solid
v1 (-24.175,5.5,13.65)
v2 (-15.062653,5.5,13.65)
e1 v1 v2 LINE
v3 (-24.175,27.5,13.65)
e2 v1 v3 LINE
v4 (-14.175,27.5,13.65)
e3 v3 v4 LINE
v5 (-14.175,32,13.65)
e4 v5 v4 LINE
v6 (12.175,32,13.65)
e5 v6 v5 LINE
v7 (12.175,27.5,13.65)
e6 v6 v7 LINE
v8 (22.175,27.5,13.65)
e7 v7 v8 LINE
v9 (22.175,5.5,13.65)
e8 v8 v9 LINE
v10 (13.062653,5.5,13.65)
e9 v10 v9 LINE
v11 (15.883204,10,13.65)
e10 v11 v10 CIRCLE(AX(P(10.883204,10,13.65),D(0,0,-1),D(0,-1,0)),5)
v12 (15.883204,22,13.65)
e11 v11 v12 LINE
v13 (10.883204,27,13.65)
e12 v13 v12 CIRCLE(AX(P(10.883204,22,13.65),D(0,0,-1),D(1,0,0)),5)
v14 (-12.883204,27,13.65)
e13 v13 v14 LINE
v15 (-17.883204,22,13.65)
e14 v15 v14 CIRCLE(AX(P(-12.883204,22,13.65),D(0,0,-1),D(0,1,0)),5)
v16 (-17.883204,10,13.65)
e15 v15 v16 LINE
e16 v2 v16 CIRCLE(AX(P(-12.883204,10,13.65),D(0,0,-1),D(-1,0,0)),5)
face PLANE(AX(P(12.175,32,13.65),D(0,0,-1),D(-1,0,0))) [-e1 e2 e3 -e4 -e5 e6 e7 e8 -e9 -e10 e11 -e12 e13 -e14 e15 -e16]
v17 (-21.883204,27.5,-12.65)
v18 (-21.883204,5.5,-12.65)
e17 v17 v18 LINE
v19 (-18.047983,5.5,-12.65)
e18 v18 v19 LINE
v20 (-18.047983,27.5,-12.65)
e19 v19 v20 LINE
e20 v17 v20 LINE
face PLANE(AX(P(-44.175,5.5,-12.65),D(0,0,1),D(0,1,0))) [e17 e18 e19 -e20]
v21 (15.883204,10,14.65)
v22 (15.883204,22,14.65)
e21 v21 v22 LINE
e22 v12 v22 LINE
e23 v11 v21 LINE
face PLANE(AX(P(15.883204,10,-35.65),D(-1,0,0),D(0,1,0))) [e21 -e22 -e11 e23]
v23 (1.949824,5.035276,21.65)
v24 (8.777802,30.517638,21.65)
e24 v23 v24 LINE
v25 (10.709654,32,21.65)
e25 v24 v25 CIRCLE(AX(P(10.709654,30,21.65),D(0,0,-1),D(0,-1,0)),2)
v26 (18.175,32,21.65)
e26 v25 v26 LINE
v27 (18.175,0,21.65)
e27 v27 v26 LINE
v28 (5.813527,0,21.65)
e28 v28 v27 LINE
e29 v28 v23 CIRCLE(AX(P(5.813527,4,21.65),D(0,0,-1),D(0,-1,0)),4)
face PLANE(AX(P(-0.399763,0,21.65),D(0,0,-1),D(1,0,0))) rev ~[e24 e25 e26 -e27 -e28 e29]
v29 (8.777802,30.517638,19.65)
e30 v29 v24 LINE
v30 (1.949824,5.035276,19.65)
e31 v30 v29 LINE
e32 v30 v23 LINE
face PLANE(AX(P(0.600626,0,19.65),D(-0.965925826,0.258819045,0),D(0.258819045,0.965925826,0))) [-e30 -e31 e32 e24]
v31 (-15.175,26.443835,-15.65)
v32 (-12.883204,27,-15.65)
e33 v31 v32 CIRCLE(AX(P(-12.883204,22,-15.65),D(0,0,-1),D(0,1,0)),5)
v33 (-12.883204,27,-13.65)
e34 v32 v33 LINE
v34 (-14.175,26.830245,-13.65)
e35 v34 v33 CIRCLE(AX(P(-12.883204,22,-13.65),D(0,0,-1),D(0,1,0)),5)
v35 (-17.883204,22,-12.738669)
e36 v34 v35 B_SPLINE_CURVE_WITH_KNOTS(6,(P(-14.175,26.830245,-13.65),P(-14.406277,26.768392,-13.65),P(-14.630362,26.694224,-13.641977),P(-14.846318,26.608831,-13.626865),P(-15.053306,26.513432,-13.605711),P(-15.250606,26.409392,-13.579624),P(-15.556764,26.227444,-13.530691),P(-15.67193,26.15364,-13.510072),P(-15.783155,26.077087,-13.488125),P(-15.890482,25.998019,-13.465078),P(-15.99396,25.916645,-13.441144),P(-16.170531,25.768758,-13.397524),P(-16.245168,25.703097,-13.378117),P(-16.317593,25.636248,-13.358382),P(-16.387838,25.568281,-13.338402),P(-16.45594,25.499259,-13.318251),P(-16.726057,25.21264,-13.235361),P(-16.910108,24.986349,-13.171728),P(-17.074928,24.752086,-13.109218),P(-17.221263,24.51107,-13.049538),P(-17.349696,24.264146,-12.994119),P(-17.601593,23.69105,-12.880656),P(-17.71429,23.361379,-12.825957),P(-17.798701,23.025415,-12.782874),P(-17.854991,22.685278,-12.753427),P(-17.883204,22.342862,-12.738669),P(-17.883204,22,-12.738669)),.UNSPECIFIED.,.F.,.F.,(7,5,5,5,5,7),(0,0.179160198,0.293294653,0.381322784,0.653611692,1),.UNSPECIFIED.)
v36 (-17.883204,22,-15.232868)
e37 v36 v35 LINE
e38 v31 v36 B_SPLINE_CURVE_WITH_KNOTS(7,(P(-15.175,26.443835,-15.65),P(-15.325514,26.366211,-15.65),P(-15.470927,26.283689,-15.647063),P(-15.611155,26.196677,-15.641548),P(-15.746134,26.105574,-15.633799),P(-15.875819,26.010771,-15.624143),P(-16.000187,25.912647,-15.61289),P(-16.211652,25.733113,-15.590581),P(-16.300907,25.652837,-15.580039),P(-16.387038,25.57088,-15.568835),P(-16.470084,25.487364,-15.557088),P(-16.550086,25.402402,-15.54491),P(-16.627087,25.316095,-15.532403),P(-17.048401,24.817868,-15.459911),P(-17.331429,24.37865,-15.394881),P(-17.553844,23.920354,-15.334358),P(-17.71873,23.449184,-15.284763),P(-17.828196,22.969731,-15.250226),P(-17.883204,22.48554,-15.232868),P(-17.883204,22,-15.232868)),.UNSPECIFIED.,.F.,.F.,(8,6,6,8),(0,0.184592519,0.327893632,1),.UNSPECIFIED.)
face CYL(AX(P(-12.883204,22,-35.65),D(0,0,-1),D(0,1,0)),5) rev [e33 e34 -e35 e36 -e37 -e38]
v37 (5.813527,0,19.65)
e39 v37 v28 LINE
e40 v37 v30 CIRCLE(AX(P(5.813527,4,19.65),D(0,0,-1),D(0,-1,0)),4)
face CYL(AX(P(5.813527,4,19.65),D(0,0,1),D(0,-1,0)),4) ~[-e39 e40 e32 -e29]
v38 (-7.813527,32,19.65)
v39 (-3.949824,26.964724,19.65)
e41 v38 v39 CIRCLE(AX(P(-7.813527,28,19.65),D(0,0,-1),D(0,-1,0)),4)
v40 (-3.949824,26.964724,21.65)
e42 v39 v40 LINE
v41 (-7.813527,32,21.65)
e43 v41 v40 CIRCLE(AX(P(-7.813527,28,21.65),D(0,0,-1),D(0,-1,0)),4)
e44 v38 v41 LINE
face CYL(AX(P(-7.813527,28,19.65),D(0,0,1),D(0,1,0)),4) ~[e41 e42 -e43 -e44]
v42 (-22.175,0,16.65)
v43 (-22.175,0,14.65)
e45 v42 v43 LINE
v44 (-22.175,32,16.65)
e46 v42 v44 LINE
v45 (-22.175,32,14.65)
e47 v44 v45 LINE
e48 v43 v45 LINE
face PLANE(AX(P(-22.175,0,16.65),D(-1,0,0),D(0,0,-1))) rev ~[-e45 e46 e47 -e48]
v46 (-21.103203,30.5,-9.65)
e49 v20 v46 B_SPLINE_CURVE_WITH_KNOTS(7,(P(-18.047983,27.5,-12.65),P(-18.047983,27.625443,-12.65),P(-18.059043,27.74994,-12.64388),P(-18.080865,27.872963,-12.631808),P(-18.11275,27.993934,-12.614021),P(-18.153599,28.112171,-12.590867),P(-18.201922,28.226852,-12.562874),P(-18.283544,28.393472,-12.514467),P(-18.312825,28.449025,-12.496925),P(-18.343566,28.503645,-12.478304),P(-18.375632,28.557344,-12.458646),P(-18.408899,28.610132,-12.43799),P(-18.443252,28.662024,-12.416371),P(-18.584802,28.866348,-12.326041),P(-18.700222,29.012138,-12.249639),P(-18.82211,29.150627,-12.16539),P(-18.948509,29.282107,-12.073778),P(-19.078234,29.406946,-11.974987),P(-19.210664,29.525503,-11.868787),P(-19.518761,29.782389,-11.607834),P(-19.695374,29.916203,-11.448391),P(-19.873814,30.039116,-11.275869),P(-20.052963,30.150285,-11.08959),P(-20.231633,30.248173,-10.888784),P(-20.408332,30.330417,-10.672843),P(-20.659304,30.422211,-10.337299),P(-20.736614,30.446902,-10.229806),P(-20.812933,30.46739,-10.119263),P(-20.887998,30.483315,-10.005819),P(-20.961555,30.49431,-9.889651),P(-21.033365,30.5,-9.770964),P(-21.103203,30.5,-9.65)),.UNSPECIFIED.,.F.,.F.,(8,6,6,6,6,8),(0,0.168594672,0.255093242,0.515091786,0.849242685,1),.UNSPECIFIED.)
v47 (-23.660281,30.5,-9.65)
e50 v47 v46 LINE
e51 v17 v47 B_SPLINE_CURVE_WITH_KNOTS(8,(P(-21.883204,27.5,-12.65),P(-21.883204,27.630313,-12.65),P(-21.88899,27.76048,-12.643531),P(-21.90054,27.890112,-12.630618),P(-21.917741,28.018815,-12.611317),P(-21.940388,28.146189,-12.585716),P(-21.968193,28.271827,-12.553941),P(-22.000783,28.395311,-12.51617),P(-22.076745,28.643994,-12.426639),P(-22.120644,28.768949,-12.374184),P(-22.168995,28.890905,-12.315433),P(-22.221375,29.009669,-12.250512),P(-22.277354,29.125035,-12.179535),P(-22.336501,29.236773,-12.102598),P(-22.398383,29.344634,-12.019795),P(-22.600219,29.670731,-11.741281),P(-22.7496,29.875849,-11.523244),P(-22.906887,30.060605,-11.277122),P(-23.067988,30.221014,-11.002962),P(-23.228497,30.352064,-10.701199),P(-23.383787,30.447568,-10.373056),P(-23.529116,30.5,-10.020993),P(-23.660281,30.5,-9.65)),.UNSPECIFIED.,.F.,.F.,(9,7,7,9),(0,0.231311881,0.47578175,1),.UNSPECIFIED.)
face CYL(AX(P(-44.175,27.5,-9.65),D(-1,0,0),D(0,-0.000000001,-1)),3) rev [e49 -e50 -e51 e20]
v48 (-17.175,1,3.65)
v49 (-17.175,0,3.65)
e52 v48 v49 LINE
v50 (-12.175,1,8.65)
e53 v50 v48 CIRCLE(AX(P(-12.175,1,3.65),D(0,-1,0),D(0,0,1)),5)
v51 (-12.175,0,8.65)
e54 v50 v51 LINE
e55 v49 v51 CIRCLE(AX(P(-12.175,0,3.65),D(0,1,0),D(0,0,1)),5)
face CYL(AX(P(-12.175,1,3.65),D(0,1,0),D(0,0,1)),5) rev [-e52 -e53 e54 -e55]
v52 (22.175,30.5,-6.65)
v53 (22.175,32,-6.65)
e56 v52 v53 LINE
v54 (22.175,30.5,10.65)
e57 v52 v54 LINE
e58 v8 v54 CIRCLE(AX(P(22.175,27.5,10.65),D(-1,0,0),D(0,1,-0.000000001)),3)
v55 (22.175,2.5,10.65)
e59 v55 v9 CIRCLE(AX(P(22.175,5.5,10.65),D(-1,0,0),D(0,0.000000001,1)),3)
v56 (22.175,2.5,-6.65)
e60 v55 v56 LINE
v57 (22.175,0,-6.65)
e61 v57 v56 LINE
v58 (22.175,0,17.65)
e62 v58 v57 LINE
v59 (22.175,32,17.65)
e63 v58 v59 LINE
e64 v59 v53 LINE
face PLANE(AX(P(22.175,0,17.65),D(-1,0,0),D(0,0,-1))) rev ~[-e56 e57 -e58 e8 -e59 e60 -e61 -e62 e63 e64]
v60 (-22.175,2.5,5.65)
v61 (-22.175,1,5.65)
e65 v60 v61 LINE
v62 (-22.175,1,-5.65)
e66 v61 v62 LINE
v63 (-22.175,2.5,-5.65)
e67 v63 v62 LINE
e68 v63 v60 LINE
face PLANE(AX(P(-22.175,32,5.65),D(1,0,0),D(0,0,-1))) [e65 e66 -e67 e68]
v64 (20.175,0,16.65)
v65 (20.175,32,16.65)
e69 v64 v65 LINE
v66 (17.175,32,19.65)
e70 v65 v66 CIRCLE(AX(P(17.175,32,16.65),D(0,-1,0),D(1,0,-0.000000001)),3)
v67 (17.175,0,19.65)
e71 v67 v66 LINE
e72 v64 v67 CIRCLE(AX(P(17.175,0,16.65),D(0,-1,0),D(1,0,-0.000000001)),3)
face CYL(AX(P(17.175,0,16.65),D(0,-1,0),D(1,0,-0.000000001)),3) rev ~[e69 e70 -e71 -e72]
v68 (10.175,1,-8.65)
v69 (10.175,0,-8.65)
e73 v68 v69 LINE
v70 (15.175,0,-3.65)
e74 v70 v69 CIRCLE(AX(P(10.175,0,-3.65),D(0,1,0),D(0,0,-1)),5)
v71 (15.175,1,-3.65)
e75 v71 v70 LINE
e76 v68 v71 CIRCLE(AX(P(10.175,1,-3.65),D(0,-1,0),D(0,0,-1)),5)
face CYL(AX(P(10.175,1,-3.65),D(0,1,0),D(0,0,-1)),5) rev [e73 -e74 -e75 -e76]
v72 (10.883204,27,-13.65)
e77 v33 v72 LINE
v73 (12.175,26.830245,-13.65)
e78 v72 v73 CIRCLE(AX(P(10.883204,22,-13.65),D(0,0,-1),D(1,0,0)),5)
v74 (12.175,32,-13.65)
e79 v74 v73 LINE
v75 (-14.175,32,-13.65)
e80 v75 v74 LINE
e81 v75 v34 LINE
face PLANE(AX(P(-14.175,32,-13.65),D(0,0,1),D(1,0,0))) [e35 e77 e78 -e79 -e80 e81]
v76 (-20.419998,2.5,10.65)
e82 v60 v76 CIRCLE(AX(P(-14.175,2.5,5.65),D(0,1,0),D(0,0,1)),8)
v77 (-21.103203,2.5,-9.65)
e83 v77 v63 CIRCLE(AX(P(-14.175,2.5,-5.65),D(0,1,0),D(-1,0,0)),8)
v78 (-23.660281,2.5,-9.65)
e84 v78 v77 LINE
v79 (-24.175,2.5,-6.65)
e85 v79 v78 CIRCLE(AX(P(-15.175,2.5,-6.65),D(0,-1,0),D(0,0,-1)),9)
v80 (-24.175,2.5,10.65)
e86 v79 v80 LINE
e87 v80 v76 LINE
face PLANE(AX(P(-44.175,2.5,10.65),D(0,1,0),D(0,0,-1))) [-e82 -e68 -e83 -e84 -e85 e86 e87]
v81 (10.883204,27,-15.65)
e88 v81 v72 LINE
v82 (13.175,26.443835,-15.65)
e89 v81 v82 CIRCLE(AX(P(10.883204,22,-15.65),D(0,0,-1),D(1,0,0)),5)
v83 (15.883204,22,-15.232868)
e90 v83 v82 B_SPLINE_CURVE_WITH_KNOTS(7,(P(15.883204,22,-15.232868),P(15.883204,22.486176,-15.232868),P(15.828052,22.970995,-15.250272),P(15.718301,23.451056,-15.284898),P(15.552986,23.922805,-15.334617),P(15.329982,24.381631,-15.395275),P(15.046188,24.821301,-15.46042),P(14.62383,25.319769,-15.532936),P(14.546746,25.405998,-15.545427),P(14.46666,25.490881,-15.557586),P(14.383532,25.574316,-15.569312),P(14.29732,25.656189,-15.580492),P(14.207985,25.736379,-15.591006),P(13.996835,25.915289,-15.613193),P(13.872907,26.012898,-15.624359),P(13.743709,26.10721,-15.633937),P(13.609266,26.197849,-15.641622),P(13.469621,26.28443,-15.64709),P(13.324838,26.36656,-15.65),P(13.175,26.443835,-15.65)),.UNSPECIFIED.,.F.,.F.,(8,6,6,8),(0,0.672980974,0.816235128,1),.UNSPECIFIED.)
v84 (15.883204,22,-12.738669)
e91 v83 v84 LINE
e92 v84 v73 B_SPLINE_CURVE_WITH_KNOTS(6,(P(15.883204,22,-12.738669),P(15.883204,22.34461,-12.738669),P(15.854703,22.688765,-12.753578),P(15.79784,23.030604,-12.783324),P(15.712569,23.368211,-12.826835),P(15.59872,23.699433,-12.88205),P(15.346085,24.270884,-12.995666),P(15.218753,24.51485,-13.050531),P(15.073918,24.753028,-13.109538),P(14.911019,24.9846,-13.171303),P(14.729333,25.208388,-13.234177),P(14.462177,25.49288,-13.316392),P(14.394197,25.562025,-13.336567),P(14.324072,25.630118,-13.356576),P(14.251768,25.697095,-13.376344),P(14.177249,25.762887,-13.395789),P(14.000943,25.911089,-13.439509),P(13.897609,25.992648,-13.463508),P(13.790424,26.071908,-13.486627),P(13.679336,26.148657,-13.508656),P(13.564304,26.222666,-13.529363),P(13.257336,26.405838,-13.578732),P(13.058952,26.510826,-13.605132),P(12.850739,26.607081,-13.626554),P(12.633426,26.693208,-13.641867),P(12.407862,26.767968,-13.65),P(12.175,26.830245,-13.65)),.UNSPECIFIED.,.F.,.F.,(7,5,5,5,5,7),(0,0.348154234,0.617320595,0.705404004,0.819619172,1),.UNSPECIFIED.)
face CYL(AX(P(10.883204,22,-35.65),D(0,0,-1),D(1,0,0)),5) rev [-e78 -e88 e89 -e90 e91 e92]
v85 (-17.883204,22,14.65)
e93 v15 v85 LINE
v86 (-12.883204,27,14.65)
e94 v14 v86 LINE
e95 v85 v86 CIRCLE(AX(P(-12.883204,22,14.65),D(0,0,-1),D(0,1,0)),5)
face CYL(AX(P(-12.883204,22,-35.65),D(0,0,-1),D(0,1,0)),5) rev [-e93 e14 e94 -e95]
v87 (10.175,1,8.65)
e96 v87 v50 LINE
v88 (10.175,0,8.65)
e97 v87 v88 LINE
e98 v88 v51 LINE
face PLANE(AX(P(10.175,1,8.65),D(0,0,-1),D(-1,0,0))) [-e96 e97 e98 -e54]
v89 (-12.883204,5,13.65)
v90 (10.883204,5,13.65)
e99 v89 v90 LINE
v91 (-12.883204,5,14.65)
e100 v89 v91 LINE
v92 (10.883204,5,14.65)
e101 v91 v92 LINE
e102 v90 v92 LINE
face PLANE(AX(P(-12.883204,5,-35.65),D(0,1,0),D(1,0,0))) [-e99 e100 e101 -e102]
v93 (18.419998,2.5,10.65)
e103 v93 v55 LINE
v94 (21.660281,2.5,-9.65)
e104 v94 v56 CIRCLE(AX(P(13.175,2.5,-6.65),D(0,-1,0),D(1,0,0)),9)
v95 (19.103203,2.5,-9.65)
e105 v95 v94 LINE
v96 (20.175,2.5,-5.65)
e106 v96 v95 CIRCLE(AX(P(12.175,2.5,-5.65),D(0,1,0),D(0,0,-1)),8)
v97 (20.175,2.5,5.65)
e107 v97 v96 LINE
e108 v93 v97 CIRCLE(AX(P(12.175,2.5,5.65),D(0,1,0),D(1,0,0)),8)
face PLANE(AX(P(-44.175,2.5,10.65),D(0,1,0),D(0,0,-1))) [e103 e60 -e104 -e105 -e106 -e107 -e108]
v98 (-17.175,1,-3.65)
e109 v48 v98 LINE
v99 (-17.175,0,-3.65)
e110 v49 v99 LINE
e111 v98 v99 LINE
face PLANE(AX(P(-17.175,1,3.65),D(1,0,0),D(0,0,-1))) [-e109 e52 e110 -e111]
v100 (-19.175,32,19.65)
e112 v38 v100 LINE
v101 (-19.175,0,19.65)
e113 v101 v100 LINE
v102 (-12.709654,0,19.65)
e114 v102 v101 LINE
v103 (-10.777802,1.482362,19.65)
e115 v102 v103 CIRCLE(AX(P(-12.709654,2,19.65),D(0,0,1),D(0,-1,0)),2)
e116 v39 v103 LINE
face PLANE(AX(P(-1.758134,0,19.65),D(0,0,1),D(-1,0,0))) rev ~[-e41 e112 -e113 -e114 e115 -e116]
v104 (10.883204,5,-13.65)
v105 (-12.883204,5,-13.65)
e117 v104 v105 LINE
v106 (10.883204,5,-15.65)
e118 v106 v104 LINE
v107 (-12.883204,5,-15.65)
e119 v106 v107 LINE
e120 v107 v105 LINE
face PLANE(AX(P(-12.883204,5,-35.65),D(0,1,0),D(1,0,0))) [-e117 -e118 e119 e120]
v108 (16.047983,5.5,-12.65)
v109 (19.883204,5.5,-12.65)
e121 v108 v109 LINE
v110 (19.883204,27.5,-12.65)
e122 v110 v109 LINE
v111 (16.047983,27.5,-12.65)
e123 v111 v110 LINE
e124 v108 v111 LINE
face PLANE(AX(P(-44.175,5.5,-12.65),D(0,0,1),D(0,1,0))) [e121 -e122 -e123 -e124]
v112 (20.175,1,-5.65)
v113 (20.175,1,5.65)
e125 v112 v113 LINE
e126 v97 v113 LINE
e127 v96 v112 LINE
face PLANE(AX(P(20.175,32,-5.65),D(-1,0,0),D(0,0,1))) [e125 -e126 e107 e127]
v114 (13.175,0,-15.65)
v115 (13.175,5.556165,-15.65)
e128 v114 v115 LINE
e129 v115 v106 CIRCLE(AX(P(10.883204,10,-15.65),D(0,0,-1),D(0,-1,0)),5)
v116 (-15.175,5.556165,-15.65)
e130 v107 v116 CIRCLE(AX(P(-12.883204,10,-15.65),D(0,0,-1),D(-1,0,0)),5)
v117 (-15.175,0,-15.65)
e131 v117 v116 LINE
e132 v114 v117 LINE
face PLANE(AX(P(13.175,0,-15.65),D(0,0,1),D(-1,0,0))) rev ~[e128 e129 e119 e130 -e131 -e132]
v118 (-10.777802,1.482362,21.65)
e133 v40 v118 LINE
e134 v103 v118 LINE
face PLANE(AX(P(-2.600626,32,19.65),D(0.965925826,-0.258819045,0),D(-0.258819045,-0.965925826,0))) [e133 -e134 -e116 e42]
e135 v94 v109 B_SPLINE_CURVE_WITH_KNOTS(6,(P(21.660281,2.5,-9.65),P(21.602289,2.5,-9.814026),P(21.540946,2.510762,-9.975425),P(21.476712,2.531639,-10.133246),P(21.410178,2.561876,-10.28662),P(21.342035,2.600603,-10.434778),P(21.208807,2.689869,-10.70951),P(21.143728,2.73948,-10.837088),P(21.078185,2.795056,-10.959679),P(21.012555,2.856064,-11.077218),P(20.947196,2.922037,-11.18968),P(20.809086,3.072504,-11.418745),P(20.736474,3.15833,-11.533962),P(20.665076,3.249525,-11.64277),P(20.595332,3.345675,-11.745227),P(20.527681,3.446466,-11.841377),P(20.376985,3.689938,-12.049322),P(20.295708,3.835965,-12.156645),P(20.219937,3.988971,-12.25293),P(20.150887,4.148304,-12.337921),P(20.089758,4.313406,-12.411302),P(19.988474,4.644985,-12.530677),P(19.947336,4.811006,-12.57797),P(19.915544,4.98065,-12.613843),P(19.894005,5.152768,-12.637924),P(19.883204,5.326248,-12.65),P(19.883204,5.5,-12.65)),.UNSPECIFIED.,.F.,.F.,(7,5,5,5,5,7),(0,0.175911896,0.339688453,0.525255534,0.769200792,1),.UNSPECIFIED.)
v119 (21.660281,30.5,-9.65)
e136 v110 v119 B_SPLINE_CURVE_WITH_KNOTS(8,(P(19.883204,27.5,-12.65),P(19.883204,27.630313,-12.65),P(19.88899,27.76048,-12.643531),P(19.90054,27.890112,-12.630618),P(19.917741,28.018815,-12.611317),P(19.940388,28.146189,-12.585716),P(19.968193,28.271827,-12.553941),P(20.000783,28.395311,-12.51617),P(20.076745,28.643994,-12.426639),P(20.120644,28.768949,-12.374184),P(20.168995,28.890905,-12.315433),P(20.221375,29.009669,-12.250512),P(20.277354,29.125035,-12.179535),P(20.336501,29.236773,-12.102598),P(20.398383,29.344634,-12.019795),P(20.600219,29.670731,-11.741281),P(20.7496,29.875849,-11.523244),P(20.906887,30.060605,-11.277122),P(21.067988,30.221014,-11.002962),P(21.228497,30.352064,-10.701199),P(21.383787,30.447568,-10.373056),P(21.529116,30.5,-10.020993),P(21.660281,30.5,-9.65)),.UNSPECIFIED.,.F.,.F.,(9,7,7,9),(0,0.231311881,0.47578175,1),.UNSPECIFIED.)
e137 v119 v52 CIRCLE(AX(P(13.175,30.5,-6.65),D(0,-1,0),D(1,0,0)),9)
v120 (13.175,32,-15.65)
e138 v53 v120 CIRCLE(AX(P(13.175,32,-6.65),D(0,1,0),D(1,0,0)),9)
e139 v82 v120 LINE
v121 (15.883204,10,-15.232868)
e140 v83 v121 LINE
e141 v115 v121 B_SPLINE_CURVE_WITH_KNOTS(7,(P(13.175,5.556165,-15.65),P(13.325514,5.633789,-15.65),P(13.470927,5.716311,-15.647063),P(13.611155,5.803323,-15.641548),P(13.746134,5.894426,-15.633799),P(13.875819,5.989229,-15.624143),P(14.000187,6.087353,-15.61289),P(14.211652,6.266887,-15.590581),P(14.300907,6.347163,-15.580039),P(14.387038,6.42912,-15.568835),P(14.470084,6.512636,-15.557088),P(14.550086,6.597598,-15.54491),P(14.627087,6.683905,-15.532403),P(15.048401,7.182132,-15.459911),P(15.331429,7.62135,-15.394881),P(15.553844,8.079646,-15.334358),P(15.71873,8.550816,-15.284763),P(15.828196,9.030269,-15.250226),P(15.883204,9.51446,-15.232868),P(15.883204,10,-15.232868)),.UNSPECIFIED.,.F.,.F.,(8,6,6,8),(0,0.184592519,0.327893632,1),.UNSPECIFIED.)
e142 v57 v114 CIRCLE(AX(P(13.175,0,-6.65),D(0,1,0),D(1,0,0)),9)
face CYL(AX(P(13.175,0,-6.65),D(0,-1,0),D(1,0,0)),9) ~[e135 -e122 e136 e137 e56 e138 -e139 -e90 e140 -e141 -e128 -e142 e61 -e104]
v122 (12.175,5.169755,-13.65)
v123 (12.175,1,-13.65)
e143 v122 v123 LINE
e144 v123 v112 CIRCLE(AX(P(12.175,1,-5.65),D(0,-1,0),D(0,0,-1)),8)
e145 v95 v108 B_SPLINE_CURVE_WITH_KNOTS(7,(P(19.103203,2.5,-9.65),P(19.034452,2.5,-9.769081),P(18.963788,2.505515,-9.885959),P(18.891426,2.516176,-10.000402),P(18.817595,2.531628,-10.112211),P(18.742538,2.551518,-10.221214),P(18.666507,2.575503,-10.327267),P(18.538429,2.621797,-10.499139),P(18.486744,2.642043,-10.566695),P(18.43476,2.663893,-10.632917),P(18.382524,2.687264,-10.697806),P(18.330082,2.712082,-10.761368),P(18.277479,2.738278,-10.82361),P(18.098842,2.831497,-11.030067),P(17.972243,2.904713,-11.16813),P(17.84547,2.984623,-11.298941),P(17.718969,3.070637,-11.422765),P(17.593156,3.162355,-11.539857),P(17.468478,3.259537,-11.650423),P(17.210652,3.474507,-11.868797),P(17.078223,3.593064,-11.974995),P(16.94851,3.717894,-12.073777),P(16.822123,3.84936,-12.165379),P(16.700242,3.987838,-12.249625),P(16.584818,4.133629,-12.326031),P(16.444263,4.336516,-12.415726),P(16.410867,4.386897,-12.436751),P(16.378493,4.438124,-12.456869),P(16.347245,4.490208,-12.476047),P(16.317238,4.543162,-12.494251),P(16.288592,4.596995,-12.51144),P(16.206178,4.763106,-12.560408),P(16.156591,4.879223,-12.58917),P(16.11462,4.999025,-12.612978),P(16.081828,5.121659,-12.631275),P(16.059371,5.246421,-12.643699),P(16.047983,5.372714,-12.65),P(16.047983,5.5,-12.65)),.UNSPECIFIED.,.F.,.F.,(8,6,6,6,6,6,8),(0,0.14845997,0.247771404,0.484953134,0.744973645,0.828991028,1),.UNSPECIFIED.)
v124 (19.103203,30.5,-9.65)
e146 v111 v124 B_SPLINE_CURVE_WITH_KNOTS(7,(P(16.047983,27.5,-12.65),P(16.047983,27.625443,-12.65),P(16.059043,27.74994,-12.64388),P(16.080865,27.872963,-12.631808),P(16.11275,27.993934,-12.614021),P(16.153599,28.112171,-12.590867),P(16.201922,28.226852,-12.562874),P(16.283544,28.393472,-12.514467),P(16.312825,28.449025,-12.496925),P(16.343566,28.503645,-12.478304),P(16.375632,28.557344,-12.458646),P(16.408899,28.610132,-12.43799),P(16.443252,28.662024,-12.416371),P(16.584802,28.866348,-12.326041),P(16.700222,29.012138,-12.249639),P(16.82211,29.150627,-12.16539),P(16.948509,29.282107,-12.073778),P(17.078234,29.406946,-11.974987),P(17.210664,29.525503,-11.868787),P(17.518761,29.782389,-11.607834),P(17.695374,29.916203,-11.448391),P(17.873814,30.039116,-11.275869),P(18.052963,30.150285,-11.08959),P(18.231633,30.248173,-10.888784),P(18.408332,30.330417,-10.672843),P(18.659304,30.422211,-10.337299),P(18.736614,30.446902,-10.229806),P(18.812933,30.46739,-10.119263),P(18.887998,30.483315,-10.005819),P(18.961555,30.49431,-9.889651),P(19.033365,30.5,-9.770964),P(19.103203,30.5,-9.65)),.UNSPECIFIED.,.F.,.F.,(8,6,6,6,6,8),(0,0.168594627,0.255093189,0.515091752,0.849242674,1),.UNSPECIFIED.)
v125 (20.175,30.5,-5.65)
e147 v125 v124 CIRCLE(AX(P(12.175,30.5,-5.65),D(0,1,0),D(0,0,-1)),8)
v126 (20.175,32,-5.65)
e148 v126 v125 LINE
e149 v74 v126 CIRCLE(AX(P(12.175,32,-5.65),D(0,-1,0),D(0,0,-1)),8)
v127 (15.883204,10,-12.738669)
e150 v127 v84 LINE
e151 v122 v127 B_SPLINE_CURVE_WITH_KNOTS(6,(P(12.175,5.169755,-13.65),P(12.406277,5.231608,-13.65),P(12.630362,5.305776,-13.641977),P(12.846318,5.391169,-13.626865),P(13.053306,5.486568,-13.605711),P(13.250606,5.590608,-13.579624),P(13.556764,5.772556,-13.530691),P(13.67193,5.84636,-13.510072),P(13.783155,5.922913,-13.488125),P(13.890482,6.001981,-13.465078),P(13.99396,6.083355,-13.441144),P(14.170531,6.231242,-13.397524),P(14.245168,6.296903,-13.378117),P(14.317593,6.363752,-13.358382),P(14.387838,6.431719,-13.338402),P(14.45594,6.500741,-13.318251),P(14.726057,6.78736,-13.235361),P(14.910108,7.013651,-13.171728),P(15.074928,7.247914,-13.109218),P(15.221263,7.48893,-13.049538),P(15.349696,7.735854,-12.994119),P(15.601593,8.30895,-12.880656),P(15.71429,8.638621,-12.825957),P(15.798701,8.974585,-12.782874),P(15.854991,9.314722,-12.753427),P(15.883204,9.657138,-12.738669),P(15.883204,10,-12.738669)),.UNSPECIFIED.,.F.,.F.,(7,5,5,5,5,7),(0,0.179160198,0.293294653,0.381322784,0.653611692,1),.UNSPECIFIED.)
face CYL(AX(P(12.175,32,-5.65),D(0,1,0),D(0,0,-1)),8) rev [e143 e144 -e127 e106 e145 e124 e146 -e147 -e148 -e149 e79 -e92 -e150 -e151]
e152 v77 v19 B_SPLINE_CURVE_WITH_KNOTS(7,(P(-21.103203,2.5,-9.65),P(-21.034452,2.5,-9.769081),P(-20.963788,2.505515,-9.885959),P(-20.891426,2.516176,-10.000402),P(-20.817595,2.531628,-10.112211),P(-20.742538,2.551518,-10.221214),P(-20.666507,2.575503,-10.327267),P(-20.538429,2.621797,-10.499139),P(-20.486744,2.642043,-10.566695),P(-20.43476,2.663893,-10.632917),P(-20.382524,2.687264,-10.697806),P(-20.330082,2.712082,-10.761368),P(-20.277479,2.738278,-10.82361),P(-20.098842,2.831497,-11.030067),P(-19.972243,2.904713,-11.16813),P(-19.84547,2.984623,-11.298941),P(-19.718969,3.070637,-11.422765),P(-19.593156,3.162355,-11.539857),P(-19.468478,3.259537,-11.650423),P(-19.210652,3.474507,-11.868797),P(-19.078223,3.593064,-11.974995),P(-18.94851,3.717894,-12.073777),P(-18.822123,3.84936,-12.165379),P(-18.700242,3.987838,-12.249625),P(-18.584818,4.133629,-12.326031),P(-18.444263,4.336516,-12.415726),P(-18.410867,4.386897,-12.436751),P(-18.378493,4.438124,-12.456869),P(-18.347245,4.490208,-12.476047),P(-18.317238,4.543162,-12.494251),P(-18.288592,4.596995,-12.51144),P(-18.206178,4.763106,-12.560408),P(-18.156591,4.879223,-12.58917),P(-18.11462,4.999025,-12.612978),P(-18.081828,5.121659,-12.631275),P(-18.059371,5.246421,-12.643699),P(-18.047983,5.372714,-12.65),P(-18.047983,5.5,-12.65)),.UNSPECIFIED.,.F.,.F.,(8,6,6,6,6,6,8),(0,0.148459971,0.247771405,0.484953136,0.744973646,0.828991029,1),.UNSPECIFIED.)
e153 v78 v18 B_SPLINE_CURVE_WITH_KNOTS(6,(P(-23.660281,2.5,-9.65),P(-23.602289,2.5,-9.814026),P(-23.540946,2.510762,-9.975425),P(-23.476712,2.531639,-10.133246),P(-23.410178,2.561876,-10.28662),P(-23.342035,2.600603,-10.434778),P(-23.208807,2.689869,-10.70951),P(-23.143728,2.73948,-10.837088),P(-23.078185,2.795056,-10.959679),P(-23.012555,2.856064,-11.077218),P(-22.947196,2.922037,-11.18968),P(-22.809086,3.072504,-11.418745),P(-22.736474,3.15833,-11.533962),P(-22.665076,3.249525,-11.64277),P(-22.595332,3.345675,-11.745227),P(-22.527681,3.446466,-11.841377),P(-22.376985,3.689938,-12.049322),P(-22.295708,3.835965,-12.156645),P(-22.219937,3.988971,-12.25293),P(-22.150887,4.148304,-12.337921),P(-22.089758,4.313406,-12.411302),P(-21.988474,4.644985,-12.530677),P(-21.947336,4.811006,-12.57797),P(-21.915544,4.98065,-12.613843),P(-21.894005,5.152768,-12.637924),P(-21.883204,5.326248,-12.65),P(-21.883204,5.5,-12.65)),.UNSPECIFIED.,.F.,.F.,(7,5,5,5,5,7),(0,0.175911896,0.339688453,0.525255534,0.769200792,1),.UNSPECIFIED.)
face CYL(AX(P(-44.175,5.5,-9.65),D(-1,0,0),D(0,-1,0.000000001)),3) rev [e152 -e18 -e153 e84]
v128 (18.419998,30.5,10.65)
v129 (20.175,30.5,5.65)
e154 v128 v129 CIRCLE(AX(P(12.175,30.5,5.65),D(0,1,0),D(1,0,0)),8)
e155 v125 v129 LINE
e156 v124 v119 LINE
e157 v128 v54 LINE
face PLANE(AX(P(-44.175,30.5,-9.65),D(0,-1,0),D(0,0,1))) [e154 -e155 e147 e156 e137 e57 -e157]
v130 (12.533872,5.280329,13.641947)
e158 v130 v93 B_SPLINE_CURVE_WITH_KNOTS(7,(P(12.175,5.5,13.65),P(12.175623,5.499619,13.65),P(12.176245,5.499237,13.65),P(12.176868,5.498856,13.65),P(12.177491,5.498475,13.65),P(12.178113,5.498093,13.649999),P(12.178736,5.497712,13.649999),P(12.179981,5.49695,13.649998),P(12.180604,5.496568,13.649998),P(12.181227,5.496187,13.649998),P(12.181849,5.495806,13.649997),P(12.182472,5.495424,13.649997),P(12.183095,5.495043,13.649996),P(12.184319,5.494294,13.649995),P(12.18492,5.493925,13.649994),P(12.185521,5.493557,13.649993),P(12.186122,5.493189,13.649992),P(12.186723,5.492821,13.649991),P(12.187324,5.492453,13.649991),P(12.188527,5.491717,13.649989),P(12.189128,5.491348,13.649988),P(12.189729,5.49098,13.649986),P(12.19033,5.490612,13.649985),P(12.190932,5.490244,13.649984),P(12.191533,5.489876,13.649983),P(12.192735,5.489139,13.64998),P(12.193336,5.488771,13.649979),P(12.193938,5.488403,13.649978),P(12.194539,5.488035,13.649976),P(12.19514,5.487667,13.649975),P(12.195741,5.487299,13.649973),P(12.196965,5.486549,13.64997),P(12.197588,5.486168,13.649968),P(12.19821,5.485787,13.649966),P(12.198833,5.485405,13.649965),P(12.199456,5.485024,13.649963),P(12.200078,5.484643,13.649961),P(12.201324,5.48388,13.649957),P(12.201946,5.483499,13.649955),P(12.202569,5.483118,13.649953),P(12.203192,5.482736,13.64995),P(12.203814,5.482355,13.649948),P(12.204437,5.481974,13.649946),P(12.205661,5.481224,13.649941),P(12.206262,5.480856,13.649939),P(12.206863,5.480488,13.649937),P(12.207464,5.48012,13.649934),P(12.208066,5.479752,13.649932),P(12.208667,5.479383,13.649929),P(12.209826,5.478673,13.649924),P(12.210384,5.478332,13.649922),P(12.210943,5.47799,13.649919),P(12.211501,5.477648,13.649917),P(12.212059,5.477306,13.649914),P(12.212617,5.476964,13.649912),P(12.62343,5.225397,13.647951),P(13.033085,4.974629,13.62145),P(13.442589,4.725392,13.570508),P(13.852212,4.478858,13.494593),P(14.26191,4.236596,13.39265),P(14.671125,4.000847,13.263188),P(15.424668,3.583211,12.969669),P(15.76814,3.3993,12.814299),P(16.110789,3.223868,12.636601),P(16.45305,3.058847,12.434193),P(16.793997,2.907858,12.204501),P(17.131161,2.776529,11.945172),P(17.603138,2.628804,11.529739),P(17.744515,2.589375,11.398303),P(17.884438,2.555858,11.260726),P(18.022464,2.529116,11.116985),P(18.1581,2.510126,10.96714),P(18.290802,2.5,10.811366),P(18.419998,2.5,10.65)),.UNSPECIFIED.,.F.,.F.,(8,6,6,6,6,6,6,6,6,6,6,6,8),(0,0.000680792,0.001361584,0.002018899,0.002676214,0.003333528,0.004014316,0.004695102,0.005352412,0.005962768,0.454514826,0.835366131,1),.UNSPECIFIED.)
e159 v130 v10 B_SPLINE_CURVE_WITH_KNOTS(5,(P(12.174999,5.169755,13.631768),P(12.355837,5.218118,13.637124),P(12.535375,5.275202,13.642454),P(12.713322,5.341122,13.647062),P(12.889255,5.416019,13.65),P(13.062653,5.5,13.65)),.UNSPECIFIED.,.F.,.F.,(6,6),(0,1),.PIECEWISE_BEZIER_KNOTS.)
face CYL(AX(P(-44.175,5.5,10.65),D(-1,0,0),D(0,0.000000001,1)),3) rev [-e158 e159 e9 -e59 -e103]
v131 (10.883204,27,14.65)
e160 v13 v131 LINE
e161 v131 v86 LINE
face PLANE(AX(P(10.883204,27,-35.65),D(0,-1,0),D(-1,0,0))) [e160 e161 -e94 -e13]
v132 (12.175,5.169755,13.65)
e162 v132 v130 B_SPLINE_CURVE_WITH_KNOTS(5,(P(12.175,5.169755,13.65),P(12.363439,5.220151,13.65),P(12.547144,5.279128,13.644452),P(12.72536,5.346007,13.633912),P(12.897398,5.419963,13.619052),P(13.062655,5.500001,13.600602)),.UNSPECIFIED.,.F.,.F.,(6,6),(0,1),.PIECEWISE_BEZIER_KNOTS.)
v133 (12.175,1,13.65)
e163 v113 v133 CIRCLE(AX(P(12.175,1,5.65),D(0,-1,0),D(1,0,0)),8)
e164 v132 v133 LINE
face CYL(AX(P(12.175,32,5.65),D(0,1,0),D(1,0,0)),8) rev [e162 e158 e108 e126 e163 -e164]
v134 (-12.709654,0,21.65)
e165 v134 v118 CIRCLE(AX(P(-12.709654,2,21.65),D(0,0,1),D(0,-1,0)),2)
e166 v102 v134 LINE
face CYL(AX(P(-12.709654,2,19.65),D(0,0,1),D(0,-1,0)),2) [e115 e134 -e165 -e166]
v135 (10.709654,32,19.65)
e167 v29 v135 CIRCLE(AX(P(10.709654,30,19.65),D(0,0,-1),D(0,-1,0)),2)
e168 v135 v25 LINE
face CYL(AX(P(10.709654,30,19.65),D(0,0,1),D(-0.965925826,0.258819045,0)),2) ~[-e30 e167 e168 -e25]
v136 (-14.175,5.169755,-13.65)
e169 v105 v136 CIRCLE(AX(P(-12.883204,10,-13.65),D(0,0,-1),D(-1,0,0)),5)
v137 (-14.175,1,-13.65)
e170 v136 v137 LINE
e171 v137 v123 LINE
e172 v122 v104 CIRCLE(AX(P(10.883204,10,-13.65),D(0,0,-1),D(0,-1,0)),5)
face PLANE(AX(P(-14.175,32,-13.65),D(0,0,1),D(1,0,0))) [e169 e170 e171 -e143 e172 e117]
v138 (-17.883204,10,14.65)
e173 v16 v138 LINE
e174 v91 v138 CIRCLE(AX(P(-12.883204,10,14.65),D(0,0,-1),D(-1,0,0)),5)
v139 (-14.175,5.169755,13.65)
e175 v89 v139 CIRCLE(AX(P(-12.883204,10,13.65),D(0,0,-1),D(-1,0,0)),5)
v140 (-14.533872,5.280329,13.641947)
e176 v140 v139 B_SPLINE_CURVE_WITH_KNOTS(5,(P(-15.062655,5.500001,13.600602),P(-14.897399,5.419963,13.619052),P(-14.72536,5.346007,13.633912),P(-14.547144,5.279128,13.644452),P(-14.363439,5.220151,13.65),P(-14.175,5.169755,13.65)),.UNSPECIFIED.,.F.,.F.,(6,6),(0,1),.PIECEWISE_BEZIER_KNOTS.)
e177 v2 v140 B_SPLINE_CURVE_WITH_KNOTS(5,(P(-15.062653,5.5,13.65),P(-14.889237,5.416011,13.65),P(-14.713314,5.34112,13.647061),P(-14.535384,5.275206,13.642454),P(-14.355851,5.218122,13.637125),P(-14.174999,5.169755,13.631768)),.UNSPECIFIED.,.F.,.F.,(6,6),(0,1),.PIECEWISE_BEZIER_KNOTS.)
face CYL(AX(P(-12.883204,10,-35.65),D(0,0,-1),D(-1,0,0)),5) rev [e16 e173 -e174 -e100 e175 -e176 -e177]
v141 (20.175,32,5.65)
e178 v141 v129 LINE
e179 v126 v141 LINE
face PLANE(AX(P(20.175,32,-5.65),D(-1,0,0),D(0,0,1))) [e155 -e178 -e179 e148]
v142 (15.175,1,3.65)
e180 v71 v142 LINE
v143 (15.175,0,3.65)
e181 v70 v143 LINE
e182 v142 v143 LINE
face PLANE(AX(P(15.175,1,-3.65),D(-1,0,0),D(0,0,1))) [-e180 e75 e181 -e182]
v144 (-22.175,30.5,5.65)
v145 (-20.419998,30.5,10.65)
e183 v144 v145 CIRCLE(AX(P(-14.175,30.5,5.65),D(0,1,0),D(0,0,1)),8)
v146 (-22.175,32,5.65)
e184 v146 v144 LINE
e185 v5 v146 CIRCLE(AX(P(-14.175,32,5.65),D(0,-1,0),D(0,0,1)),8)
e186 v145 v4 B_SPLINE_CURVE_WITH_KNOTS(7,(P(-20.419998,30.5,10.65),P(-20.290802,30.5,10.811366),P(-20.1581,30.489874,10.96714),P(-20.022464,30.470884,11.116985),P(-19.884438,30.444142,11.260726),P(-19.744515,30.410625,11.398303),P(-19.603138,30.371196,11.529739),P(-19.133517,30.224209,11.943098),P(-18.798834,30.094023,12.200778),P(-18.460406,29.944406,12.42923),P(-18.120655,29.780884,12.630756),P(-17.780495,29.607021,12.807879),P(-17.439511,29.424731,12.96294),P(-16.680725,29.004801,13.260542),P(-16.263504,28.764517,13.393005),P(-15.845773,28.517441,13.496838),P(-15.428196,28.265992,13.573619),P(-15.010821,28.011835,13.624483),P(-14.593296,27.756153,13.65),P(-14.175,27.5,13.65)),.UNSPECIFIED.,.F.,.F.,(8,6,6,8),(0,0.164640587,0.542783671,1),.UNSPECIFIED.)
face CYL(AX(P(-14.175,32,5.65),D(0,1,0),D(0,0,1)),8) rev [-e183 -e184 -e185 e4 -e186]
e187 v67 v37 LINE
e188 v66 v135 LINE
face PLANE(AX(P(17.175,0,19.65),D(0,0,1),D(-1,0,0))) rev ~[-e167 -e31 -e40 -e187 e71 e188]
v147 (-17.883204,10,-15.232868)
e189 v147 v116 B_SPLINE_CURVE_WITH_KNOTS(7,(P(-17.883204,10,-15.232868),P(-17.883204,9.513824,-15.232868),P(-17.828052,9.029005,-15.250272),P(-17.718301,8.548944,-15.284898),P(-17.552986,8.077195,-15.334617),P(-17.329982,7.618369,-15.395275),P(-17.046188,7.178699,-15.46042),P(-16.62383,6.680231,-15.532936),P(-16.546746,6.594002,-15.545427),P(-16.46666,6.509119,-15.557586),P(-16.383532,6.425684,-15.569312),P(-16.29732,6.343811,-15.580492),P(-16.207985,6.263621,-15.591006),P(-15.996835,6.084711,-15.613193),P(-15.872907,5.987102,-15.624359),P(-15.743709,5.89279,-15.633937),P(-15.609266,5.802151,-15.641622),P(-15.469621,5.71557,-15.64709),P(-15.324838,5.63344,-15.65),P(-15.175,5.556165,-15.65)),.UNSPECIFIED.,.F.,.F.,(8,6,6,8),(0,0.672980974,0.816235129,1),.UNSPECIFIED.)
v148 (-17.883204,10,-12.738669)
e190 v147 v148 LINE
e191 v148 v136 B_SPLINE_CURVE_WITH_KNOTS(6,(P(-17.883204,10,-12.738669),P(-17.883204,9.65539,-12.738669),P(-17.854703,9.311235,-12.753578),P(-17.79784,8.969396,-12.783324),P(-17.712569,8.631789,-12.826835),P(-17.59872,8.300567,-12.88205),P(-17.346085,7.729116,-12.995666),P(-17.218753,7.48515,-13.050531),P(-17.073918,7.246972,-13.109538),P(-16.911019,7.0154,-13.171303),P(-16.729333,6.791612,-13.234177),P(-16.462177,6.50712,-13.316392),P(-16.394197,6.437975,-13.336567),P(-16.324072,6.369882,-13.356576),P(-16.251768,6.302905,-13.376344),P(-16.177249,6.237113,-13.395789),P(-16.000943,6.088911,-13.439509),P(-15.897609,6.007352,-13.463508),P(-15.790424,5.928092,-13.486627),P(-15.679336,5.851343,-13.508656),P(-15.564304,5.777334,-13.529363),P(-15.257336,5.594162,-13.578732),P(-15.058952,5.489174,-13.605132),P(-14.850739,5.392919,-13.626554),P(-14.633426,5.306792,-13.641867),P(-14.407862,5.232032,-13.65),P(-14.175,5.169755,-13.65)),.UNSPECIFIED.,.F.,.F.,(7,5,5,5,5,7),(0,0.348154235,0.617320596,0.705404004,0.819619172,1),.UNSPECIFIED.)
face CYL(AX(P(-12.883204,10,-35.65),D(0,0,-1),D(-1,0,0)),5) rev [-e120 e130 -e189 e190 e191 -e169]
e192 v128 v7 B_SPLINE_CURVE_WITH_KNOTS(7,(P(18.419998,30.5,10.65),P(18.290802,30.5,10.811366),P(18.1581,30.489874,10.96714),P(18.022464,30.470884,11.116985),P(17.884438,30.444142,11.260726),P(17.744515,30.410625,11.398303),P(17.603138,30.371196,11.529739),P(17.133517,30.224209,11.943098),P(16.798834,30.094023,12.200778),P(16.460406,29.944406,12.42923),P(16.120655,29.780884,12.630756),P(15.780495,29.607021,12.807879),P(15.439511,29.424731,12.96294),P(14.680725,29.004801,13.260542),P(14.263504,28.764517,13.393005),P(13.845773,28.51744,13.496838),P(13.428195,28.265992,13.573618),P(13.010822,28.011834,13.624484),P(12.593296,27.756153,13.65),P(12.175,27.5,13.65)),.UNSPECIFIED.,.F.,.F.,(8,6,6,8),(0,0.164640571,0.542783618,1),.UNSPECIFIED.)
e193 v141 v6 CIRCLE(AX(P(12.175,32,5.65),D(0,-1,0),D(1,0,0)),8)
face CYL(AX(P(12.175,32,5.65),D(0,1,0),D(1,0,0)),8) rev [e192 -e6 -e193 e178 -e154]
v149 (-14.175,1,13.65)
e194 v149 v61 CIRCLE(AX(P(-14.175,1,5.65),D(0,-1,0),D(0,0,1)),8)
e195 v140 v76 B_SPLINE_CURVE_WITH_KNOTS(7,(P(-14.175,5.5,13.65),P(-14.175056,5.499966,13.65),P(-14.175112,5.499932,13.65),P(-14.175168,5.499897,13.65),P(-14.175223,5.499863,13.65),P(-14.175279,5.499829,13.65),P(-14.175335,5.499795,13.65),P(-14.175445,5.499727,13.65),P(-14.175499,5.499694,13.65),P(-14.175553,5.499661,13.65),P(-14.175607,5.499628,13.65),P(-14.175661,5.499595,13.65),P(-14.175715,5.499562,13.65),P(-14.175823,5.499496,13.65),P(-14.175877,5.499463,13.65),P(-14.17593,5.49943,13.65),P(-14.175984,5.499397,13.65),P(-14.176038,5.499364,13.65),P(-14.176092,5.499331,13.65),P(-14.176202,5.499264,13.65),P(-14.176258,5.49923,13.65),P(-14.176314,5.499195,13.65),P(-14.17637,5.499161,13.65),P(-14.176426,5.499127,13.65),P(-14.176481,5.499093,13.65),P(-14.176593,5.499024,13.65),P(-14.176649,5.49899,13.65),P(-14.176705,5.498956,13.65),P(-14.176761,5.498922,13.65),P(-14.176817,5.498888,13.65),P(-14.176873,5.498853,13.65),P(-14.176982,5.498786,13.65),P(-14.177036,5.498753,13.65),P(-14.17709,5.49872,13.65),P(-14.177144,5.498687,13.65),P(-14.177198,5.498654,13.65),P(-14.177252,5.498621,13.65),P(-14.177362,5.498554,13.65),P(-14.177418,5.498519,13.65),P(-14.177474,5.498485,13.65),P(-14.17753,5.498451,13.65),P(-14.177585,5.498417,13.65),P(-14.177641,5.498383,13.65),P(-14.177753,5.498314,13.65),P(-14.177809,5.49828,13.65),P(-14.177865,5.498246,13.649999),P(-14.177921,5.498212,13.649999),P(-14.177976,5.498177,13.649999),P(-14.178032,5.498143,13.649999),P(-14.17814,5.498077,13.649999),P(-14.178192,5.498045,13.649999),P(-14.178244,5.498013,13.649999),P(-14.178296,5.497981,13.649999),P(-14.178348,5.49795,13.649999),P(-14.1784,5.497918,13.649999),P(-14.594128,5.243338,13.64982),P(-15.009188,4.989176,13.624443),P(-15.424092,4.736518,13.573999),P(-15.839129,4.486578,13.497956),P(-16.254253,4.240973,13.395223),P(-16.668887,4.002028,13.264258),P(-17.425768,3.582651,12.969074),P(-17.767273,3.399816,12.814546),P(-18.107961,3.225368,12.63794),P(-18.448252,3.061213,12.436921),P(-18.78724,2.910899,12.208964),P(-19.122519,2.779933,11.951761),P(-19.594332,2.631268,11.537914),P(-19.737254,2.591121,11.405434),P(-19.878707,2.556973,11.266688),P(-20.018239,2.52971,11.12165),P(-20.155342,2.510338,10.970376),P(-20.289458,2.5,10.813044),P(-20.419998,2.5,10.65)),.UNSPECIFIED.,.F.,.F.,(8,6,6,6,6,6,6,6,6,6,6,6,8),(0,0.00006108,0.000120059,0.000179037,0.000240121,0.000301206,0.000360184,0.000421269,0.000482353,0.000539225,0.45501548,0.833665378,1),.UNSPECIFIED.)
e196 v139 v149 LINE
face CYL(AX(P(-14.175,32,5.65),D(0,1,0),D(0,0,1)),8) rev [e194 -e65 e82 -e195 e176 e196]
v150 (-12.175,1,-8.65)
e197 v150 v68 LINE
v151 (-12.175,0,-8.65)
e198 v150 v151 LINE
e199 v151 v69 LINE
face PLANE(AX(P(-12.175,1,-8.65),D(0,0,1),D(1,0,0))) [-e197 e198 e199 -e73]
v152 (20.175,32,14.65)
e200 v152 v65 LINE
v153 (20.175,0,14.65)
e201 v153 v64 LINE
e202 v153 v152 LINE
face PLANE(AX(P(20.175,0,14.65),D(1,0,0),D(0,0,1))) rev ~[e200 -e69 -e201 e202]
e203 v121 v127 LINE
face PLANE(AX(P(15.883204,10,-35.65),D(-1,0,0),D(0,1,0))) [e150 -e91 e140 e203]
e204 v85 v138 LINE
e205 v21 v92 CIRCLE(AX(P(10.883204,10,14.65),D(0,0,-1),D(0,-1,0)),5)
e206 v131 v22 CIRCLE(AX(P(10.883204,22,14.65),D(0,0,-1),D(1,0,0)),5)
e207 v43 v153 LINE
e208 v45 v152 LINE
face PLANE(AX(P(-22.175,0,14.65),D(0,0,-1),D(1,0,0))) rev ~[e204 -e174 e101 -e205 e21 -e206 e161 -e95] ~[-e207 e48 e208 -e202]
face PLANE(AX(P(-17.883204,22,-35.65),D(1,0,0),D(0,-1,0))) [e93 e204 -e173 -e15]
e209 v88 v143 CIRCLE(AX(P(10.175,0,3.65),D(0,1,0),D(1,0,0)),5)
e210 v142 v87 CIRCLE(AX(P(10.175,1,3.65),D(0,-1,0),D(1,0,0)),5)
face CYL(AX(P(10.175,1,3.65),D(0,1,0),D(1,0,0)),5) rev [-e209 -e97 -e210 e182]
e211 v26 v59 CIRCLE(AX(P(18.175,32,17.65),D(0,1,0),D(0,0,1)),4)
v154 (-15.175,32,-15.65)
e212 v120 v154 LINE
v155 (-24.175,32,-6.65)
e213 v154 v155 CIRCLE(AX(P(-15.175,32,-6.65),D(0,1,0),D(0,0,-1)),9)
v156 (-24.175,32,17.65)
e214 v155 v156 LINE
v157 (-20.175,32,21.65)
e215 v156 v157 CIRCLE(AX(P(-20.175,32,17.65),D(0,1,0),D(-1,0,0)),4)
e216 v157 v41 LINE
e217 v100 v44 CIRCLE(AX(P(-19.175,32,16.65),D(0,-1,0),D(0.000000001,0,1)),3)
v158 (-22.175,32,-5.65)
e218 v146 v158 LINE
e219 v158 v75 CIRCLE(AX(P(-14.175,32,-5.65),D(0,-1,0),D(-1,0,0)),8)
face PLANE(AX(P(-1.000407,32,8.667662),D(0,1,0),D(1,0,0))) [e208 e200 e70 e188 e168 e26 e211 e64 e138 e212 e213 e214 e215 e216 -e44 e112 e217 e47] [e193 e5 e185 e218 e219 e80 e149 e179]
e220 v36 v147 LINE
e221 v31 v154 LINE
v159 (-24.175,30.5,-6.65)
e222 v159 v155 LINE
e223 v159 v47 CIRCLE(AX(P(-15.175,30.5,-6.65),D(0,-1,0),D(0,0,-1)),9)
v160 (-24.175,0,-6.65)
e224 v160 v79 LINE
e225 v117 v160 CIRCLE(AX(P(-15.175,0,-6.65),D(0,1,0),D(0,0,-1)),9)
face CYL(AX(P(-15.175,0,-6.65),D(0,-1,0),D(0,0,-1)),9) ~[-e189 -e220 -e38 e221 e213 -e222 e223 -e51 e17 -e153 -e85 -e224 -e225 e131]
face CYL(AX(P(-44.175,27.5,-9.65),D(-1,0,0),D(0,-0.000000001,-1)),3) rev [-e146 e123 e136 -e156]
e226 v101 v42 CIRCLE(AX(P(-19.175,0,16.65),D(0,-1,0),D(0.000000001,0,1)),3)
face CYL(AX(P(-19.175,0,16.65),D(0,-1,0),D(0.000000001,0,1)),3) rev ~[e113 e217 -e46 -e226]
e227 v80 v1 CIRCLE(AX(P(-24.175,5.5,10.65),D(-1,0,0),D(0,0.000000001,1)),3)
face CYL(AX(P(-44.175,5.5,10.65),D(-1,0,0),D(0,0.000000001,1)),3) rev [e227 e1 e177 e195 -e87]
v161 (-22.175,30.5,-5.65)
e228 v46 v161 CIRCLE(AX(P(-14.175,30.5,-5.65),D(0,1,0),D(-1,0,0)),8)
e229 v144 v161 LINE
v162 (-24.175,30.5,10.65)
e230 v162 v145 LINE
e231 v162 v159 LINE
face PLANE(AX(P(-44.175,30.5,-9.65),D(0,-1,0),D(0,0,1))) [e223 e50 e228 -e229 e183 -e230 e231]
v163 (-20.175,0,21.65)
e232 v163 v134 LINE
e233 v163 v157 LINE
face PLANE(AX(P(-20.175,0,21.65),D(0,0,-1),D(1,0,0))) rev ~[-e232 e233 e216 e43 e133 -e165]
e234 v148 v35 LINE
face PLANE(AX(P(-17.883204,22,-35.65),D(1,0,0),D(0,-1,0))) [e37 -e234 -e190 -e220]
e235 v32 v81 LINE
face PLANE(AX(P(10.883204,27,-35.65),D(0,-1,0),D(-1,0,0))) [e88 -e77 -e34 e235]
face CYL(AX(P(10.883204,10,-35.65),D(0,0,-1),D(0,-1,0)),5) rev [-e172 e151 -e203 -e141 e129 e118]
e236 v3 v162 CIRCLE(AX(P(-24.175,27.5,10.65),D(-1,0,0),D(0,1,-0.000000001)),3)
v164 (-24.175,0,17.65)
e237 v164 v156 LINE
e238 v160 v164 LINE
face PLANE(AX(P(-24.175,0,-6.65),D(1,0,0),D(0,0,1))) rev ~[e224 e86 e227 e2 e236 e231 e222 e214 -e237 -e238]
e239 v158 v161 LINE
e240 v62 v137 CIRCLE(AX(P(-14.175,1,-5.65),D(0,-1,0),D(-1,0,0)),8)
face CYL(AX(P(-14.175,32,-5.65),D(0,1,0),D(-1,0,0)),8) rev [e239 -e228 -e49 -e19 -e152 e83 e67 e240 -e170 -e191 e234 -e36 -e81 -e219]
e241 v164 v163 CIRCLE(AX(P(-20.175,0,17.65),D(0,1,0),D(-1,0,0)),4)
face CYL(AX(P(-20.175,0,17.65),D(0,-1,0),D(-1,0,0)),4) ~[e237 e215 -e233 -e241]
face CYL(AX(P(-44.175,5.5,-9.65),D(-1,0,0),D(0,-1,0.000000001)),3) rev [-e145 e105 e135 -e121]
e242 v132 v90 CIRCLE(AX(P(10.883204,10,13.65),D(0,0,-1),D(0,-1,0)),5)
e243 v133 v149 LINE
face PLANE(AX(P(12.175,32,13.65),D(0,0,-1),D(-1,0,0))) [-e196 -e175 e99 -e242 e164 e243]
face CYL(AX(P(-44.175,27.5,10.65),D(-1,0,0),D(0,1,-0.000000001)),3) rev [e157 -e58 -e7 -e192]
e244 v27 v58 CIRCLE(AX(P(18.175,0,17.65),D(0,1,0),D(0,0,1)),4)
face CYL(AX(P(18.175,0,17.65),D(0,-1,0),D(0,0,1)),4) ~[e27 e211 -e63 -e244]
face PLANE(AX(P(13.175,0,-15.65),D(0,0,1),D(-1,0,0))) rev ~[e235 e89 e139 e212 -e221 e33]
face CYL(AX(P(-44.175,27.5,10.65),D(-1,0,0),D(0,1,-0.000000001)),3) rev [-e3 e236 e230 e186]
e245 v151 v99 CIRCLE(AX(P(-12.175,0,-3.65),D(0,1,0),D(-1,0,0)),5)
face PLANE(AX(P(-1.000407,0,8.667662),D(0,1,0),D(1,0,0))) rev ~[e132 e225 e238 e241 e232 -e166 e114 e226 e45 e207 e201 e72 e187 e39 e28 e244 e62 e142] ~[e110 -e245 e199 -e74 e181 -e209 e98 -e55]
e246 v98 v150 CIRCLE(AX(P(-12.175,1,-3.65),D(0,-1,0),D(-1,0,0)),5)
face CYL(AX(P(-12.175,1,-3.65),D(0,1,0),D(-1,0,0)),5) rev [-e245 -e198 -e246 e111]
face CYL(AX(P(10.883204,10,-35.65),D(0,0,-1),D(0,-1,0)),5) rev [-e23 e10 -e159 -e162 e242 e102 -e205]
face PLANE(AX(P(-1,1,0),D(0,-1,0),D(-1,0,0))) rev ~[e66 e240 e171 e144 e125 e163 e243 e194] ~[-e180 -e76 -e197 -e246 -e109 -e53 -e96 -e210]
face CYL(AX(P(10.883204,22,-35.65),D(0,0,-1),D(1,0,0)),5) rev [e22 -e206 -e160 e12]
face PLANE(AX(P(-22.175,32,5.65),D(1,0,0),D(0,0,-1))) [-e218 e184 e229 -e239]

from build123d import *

# Parameters (mm, degrees)
BOSS_EXTRUDE5_DEPTH = 32
CUT_EXTRUDE1_DEPTH  = 31
CUT_EXTRUDE2_DEPTH  = 45.879317341
CUT_EXTRUDE3_START  = -15
CUT_EXTRUDE3_DEPTH  = 2
FILLET1_R           = 4
FILLET2_R           = 2
CUT_EXTRUDE4_DEPTH  = 77.779196401
CUT_EXTRUDE5_DEPTH  = 55


with BuildPart() as part:
    # Sketch1 → Boss-Extrude5 (new body)
    with BuildSketch(Plane(origin=(0, 0, 0), x_dir=(1, 0, 0), z_dir=(0, 1, 0))):
        with BuildLine():
            Line((-0.399762594, -21.65), (18.175, -21.65))
            ThreePointArc((18.175, -21.65), (21.003427125, -20.478427125), (22.175, -17.65))
            Line((22.175, -17.65), (22.175, -8.65))
            Line((22.175, -8.65), (22.175, 6.65))
            ThreePointArc((22.175, 6.65), (19.538961031, 13.013961031), (13.175, 15.65))
            Line((13.175, 15.65), (-15.175, 15.65))
            ThreePointArc((-15.175, 15.65), (-21.538961031, 13.013961031), (-24.175, 6.65))
            Line((-24.175, 6.65), (-24.175, -8.65))
            Line((-24.175, -8.65), (-24.175, -17.65))
            ThreePointArc((-24.175, -17.65), (-23.003427125, -20.478427125), (-20.175, -21.65))
            Line((-20.175, -21.65), (-1.758134267, -21.65))
            Line((-1.758134267, -21.65), (-1.758134267, -19.65))
            Line((-1.758134267, -19.65), (-19.175, -19.65))
            ThreePointArc((-19.175, -19.65), (-21.296320344, -18.771320344), (-22.175, -16.65))
            Line((-22.175, -16.65), (-22.175, -14.65))
            Line((-22.175, -14.65), (20.175, -14.65))
            Line((20.175, -14.65), (20.175, -16.65))
            ThreePointArc((20.175, -16.65), (19.296320344, -18.771320344), (17.175, -19.65))
            Line((17.175, -19.65), (-0.399762594, -19.65))
            Line((-0.399762594, -19.65), (-0.399762594, -21.65))
        make_face()
    extrude(amount=BOSS_EXTRUDE5_DEPTH)

    # Sketch6 → Cut-Extrude1 (cut)
    with BuildSketch(Plane(origin=(0, 32, 0), x_dir=(1, 0, 0), z_dir=(0, 1, 0))):
        with BuildLine():
            Line((-14.175, 13.65), (12.175, 13.65))
            ThreePointArc((12.175, 13.65), (17.831854249, 11.306854249), (20.175, 5.65))
            Line((20.175, 5.65), (20.175, -5.65))
            ThreePointArc((20.175, -5.65), (17.831854249, -11.306854249), (12.175, -13.65))
            Line((12.175, -13.65), (-14.175, -13.65))
            ThreePointArc((-14.175, -13.65), (-19.831854249, -11.306854249), (-22.175, -5.65))
            Line((-22.175, -5.65), (-22.175, 5.65))
            ThreePointArc((-22.175, 5.65), (-19.831854249, 11.306854249), (-14.175, 13.65))
        make_face()
    extrude(amount=-CUT_EXTRUDE1_DEPTH, mode=Mode.SUBTRACT)

    # Sketch9 → Cut-Extrude2 (cut, through all)
    with BuildSketch(Plane(origin=(0, 1, 0), x_dir=(1, 0, 0), z_dir=(0, 1, 0))):
        with BuildLine():
            Line((-12.175, 8.65), (10.175, 8.65))
            ThreePointArc((10.175, 8.65), (13.710533906, 7.185533906), (15.175, 3.65))
            Line((15.175, 3.65), (15.175, -3.65))
            ThreePointArc((15.175, -3.65), (13.710533906, -7.185533906), (10.175, -8.65))
            Line((10.175, -8.65), (-12.175, -8.65))
            ThreePointArc((-12.175, -8.65), (-15.710533906, -7.185533906), (-17.175, -3.65))
            Line((-17.175, -3.65), (-17.175, 3.65))
            ThreePointArc((-17.175, 3.65), (-15.710533906, 7.185533906), (-12.175, 8.65))
        make_face()
    extrude(amount=-CUT_EXTRUDE2_DEPTH, mode=Mode.SUBTRACT)

    # Sketch11 → Cut-Extrude3 (cut)
    with BuildSketch(Plane.XY.offset(34.65).offset(CUT_EXTRUDE3_START)):
        Polygon((-2.600625842, 32), (-11.175, 0), (0.600625842, 0), (9.175, 32), align=None)
    extrude(amount=CUT_EXTRUDE3_DEPTH, mode=Mode.SUBTRACT)

    # Fillet1
    fillet1_edges = [part.edges().sort_by_distance(p)[0] for p in [
        (0.600625842, 0, 20.65),
        (-2.600625842, 32, 20.65),
    ]]
    fillet(fillet1_edges, radius=FILLET1_R)

    # Fillet2
    fillet2_edges = [part.edges().sort_by_distance(p)[0] for p in [
        (9.175, 32, 20.65),
        (-11.175, 0, 20.65),
    ]]
    fillet(fillet2_edges, radius=FILLET2_R)

    # Sketch13 → Cut-Extrude4 (cut, through all)
    with BuildSketch(Plane.ZY.offset(44.175)):
        with BuildLine():
            Line((-9.65, 30.5), (10.65, 30.5))
            ThreePointArc((10.65, 30.5), (12.771320344, 29.621320344), (13.65, 27.5))
            Line((13.65, 27.5), (13.65, 5.5))
            ThreePointArc((13.65, 5.5), (12.771320344, 3.378679656), (10.65, 2.5))
            Line((10.65, 2.5), (-9.65, 2.5))
            ThreePointArc((-9.65, 2.5), (-11.771320344, 3.378679656), (-12.65, 5.5))
            Line((-12.65, 5.5), (-12.65, 27.5))
            ThreePointArc((-12.65, 27.5), (-11.771320344, 29.621320344), (-9.65, 30.5))
        make_face()
    extrude(amount=-CUT_EXTRUDE4_DEPTH, mode=Mode.SUBTRACT)

    # Sketch14 → Cut-Extrude5 (cut)
    with BuildSketch(Plane(origin=(0, 0, -35.65), x_dir=(-1, 0, 0), z_dir=(0, 0, -1))):
        with BuildLine():
            Line((-10.883203932, 27), (12.883203932, 27))
            ThreePointArc((12.883203932, 27), (16.418737838, 25.535533906), (17.883203932, 22))
            Line((17.883203932, 22), (17.883203932, 10))
            ThreePointArc((17.883203932, 10), (16.418737838, 6.464466094), (12.883203932, 5))
            Line((12.883203932, 5), (-10.883203932, 5))
            ThreePointArc((-10.883203932, 5), (-14.418737838, 6.464466094), (-15.883203932, 10))
            Line((-15.883203932, 10), (-15.883203932, 22))
            ThreePointArc((-15.883203932, 22), (-14.418737838, 25.535533906), (-10.883203932, 27))
        make_face()
    extrude(amount=-CUT_EXTRUDE5_DEPTH, mode=Mode.SUBTRACT)


solid = part.part
